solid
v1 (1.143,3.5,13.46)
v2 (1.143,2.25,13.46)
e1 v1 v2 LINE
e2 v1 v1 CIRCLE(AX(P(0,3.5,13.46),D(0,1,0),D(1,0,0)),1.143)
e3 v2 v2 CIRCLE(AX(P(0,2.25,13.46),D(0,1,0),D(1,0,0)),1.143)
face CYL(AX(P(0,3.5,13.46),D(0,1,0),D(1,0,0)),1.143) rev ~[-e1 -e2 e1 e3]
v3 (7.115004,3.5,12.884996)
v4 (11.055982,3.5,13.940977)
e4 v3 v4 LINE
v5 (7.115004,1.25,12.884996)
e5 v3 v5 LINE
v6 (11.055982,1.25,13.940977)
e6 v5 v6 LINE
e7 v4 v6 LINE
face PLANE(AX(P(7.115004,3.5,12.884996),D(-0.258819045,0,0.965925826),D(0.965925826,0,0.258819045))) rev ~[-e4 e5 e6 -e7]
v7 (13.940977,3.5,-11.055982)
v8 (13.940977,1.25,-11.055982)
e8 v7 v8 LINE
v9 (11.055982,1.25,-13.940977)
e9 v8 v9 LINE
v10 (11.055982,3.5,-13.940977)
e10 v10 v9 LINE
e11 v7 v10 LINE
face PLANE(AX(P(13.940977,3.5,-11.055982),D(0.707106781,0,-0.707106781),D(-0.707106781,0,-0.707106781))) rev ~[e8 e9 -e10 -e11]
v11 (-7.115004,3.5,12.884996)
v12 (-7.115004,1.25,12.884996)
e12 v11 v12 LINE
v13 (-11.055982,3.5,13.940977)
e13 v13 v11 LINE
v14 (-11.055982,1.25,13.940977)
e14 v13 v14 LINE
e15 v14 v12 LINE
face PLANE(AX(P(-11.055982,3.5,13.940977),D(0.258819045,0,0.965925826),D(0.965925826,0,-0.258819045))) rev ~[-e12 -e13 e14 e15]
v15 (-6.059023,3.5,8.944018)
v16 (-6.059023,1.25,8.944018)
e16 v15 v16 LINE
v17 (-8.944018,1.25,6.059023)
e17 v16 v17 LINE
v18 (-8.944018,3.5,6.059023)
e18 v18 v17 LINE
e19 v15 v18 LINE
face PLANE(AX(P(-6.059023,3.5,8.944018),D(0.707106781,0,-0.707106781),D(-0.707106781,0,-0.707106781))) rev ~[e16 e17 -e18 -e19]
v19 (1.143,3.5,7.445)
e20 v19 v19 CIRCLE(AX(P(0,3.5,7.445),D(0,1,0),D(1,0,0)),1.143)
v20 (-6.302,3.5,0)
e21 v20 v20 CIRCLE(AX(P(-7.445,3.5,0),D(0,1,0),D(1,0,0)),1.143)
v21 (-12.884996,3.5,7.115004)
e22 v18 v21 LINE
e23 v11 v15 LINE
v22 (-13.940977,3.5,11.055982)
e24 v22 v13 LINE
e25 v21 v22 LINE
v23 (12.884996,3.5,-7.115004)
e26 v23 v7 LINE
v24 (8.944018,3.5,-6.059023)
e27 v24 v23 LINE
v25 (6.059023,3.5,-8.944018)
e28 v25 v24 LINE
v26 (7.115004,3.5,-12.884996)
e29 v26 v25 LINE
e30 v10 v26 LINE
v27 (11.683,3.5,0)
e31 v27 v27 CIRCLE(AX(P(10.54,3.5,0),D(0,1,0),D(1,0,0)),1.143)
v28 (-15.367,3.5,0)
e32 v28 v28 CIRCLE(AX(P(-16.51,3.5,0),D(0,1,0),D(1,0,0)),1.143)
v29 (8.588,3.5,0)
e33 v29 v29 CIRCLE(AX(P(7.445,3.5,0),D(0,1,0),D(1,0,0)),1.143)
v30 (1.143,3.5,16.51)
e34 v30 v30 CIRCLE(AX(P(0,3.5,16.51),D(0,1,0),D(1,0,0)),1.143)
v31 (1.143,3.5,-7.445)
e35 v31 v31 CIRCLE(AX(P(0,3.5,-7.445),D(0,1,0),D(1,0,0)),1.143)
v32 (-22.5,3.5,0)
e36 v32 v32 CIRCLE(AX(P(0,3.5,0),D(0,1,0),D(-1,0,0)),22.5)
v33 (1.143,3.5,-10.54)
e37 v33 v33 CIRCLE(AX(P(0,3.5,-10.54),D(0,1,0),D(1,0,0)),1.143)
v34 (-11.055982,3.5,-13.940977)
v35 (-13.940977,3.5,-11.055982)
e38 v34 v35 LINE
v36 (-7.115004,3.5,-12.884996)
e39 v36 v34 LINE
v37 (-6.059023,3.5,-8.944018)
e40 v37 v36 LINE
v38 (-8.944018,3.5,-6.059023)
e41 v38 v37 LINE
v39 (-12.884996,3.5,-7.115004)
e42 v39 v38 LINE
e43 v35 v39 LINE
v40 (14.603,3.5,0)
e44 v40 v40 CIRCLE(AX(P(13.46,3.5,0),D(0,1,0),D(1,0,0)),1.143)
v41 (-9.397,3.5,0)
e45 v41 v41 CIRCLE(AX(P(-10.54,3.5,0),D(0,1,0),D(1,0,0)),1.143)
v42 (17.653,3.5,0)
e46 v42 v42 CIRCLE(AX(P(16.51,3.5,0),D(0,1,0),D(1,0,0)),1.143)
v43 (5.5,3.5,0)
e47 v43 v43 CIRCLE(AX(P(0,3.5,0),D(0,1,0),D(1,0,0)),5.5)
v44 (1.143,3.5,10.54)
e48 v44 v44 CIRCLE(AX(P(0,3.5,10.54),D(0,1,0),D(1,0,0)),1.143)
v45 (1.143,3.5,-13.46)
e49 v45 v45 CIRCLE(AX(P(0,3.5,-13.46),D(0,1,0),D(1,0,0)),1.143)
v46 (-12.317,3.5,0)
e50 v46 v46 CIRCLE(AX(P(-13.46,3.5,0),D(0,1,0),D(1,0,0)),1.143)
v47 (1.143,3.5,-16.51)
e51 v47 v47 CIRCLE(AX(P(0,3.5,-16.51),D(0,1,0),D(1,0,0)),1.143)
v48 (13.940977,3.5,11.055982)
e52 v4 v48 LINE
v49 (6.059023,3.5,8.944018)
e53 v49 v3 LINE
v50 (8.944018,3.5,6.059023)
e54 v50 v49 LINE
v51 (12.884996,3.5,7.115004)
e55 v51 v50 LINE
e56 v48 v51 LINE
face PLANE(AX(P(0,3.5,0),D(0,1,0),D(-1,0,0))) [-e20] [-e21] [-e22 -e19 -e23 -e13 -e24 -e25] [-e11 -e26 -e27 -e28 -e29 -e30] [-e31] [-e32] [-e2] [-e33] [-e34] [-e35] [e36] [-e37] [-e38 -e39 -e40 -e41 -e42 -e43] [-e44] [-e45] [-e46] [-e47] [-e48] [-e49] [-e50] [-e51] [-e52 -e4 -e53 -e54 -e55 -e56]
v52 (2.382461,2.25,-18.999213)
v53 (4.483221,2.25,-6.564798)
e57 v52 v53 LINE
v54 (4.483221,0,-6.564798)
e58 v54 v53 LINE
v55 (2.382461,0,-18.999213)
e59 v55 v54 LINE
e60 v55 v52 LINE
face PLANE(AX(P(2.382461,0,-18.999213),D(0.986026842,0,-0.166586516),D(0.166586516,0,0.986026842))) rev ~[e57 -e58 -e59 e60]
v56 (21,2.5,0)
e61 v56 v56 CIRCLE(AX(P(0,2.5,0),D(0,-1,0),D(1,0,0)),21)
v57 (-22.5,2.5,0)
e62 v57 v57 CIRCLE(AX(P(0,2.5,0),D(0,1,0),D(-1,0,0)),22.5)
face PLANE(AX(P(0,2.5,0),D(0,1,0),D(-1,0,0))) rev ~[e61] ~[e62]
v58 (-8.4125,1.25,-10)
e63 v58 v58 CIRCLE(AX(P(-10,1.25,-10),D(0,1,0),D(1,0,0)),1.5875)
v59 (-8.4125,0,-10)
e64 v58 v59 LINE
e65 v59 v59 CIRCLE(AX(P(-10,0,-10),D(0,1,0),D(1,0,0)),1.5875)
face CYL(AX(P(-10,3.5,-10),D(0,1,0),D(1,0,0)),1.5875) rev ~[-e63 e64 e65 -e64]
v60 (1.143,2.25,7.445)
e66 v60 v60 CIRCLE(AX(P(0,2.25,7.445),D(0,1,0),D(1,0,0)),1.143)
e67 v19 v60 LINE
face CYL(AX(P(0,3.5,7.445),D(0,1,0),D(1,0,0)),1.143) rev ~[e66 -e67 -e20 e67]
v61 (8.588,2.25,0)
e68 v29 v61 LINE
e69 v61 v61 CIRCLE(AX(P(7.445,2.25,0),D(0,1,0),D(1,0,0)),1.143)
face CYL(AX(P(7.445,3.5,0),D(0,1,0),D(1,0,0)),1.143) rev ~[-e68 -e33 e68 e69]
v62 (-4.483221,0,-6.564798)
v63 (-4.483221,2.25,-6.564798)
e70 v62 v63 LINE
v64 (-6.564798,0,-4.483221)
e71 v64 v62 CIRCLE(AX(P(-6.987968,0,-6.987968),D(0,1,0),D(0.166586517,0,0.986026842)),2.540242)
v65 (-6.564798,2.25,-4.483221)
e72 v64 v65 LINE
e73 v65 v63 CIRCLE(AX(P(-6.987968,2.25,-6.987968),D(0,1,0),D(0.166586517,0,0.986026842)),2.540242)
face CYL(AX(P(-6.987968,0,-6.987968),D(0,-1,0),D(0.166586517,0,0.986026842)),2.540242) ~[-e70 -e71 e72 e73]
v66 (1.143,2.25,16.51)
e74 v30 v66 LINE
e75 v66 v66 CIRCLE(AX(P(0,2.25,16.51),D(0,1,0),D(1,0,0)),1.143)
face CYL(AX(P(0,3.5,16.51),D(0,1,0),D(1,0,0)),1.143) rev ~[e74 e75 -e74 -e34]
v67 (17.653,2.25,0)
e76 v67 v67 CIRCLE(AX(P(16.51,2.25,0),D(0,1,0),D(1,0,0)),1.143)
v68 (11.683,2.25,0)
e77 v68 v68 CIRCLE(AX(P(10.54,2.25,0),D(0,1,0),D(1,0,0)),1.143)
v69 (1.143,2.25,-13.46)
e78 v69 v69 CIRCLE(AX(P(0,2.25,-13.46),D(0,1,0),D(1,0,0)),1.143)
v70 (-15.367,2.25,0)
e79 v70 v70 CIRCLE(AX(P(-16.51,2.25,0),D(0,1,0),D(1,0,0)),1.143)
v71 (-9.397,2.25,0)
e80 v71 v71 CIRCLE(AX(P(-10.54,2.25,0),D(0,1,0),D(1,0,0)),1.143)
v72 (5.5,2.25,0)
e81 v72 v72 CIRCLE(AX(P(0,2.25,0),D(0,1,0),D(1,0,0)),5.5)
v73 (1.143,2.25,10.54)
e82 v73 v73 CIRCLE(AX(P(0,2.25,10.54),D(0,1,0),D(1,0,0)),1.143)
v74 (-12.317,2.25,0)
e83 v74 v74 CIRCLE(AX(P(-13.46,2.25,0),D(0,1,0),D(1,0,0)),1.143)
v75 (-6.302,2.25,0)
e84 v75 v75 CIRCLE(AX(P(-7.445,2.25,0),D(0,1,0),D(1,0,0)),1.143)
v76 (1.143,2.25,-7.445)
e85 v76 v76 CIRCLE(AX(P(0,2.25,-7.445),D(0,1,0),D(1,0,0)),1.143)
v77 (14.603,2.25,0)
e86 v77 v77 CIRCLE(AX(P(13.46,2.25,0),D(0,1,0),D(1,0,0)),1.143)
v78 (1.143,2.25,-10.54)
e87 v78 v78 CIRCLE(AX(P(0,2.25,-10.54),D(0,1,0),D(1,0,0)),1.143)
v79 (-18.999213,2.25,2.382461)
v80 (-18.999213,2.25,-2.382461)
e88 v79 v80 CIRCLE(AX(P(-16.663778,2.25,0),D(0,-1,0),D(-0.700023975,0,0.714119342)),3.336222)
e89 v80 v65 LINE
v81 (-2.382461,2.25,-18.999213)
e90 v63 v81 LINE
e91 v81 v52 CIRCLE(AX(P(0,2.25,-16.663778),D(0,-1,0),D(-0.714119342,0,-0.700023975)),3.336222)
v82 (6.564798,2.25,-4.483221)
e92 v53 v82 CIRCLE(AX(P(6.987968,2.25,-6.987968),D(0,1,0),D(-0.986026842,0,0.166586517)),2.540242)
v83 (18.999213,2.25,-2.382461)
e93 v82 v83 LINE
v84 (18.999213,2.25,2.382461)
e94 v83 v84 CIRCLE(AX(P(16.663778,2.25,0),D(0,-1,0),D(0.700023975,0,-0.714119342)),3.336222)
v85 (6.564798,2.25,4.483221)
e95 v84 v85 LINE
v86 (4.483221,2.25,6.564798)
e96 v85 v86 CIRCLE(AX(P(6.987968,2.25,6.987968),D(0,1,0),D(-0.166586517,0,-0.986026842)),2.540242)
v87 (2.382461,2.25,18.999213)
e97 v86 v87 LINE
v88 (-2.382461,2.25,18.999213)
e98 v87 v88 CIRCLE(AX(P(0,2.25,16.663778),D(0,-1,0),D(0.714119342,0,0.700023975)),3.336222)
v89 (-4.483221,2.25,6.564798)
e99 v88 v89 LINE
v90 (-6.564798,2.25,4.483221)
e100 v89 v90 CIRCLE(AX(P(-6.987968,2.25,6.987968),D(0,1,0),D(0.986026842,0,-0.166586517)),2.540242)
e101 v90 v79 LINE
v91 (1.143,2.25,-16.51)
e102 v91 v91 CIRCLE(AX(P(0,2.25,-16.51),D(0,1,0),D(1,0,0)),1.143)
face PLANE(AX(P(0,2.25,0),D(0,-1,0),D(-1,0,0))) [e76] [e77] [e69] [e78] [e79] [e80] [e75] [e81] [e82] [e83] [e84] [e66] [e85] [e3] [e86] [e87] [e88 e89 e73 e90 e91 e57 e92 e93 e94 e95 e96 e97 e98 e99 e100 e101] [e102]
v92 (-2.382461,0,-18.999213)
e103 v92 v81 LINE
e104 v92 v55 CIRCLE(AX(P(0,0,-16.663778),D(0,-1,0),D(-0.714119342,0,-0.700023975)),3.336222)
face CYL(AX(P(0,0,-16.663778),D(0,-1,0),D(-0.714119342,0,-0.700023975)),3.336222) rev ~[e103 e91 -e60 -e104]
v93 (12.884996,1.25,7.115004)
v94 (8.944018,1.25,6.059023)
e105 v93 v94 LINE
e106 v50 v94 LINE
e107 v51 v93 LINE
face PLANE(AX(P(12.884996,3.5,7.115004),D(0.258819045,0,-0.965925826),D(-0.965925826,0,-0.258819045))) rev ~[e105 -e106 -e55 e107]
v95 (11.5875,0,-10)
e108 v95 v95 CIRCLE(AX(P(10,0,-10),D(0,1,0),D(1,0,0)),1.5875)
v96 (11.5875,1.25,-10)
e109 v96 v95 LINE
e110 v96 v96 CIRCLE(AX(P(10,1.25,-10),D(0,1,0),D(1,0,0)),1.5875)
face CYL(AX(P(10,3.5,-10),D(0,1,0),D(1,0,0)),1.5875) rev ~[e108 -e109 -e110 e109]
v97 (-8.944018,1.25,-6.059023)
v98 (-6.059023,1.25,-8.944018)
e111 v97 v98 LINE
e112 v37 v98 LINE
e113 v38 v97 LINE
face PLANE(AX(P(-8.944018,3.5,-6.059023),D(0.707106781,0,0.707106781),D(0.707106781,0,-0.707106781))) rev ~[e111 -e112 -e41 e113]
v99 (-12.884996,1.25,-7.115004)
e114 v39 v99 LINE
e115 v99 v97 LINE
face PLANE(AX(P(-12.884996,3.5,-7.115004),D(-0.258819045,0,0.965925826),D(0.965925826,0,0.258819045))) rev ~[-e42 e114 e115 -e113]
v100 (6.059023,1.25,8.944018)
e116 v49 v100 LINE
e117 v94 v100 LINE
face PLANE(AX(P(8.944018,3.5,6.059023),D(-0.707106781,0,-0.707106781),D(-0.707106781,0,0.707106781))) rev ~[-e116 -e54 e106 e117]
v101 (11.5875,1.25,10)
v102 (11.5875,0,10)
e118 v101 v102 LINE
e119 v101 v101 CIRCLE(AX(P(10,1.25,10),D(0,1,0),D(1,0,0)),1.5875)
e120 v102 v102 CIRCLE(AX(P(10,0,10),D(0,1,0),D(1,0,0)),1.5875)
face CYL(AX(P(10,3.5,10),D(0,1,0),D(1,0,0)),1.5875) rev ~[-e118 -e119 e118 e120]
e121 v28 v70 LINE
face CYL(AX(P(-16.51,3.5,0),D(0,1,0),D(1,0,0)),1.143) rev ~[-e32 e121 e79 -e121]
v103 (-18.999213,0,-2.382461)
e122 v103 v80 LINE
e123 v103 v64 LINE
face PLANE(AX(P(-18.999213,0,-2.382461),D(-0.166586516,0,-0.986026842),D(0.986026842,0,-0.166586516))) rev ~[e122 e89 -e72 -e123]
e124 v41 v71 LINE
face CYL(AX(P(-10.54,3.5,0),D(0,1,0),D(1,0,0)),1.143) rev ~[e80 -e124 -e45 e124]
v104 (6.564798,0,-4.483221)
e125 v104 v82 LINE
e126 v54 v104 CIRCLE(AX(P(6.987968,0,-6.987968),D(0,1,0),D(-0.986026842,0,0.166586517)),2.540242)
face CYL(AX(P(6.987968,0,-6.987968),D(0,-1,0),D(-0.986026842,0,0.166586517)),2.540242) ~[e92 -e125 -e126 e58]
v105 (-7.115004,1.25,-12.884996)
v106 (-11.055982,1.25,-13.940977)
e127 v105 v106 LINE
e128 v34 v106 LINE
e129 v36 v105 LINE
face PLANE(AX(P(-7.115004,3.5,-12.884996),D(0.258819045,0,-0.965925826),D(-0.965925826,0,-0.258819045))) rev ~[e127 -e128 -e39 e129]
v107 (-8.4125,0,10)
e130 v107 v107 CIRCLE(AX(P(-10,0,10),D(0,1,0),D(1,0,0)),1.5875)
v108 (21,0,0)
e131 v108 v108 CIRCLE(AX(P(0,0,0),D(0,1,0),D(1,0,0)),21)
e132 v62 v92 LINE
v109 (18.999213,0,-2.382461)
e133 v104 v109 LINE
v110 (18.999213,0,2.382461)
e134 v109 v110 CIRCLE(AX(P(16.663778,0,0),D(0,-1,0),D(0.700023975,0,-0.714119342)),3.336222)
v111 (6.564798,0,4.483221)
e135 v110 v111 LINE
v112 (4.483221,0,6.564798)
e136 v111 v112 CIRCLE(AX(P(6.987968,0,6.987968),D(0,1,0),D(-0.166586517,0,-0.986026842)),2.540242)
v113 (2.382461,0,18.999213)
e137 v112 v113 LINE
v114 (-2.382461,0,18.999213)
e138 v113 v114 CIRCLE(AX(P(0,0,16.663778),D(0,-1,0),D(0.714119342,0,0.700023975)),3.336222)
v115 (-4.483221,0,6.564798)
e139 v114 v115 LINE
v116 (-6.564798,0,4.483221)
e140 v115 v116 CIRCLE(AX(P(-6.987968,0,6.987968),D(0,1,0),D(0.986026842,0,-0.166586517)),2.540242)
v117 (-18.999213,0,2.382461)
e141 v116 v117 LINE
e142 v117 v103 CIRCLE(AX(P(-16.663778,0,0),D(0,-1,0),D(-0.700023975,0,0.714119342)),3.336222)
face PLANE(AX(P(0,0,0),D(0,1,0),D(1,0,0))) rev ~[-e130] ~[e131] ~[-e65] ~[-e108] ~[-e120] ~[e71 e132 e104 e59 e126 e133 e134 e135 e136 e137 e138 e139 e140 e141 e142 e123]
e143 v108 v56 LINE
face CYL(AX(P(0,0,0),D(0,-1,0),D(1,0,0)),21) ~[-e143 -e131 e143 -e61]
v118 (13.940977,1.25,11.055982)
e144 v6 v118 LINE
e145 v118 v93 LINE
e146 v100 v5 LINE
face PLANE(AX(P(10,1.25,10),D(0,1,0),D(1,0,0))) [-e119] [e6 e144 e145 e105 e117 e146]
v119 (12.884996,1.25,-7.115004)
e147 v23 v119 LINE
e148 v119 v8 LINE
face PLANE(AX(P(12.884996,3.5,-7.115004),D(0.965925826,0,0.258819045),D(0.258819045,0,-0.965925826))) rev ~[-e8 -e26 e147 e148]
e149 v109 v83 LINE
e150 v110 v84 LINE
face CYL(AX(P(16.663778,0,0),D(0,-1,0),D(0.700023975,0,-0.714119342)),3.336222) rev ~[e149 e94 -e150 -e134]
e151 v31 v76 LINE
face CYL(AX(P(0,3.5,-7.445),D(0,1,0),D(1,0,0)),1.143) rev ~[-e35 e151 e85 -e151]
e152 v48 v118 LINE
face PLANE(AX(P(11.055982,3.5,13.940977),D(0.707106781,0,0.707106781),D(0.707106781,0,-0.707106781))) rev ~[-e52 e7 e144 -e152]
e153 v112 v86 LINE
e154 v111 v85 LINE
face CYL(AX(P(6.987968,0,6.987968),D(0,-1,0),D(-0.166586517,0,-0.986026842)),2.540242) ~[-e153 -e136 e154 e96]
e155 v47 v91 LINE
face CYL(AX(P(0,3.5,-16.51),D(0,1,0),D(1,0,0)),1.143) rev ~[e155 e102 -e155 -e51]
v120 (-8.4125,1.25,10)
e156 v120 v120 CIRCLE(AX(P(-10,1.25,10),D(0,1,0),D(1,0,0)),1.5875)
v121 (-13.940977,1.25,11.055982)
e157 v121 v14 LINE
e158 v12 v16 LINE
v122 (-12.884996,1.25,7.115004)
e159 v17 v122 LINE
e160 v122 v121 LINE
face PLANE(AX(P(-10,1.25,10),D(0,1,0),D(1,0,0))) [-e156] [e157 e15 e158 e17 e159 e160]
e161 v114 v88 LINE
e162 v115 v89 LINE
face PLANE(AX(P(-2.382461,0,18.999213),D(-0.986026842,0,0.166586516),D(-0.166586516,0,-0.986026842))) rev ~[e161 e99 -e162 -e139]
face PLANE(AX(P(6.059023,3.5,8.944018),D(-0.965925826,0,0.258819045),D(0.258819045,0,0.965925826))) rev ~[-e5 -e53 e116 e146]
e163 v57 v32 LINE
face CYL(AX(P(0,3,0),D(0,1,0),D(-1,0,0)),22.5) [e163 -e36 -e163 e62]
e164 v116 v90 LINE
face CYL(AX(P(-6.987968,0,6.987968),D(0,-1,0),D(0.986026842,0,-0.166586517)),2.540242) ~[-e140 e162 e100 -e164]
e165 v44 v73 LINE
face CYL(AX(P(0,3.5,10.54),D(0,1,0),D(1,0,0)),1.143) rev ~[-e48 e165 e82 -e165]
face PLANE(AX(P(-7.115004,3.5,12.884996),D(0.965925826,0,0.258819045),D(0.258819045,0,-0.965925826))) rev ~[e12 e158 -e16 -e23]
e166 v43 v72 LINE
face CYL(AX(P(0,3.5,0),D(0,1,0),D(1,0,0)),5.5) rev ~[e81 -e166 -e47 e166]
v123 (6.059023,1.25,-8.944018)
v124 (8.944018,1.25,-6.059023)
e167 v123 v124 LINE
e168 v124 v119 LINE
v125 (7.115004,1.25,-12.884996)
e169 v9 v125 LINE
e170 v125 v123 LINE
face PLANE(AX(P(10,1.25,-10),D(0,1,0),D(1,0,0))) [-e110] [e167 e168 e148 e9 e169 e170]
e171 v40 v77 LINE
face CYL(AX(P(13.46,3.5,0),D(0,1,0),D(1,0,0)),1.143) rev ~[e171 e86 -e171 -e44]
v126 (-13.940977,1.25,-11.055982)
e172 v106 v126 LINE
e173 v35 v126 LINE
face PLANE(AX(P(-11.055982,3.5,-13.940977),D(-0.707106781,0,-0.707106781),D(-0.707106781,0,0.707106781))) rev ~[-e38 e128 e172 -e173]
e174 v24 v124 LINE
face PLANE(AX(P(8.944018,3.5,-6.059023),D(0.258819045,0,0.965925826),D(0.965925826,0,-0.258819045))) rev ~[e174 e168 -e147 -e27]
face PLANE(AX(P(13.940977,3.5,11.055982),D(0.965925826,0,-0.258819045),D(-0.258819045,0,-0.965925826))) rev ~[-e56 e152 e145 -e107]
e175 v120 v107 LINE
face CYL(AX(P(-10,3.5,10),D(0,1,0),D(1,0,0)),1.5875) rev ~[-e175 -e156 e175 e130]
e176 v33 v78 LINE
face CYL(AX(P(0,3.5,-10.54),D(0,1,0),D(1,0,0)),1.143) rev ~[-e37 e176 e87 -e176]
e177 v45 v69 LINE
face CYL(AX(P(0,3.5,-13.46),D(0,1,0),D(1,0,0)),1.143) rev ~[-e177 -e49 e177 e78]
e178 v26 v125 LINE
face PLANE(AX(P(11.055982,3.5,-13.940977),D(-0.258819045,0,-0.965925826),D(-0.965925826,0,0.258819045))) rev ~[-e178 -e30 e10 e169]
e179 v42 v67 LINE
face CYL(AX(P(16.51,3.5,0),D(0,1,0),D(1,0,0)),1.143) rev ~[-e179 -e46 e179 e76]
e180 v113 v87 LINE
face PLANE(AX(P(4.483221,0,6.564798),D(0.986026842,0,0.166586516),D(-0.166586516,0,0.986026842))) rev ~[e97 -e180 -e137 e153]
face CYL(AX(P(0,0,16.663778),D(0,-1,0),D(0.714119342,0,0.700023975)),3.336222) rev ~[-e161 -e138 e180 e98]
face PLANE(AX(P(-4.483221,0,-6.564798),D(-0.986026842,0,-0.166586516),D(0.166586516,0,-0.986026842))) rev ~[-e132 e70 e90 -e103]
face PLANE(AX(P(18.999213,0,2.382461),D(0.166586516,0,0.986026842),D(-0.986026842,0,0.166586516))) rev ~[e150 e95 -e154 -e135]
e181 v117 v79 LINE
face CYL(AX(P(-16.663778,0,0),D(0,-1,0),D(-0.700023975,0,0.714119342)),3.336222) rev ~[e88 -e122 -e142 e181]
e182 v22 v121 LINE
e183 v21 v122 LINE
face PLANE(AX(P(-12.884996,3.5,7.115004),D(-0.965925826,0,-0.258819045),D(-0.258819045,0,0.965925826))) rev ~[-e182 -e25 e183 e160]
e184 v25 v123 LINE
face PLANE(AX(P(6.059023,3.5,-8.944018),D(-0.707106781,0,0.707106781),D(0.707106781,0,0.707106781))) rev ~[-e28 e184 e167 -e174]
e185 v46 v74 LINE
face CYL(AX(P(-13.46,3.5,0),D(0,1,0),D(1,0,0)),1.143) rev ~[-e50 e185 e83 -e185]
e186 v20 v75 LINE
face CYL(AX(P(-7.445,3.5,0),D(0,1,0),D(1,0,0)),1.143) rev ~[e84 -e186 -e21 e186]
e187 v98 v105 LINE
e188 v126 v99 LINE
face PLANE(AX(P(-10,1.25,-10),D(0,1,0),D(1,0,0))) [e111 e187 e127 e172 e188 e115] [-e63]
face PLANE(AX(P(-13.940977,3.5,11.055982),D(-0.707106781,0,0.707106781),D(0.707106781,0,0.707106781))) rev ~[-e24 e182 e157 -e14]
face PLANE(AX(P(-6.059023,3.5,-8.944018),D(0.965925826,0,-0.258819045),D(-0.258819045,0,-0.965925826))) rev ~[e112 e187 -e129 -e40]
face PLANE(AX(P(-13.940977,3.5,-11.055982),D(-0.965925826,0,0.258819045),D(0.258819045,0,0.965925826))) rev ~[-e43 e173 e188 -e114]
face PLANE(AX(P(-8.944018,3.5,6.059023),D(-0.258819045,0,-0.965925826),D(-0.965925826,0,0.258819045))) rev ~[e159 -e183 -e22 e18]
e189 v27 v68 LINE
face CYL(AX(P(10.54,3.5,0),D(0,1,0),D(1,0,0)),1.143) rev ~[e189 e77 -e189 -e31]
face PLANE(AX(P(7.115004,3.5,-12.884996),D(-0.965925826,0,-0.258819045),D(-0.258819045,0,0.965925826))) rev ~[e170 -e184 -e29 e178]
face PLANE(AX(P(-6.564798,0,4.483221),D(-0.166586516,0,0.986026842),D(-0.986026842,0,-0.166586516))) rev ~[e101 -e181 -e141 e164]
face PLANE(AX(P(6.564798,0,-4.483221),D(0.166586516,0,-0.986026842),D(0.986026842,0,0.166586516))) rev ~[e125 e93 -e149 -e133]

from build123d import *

# Parameters (mm, degrees)
SKETCH2_R           = 21
BOSS_EXTRUDE1_DEPTH = 3.5
CUT_EXTRUDE1_DEPTH  = 2.25
SKETCH4_R           = 5.5
SKETCH4_R_2         = 1.143
SKETCH4_R_3         = 1.5875
CUT_EXTRUDE2_DEPTH  = 4.5
CUT_EXTRUDE4_DEPTH  = 2.25
SKETCH6_W           = 2.148549125
SKETCH6_H           = 1


with BuildPart() as part:
    # Sketch2 → Boss-Extrude1 (new body)
    with BuildSketch(Plane(origin=(0, 0, 0), x_dir=(1, 0, 0), z_dir=(0, 1, 0))):
        Circle(SKETCH2_R)
    extrude(amount=BOSS_EXTRUDE1_DEPTH)

    # Sketch1 → Cut-Extrude1 (cut)
    with BuildSketch(Plane(origin=(0, 0, 0), x_dir=(1, 0, 0), z_dir=(0, 1, 0))):
        with BuildLine():
            Line((-2.382460832, -18.999213313), (-4.483221098, -6.564797513))
            ThreePointArc((-4.483221098, -6.564797513), (-5.191745443, -5.191745443), (-6.564797513, -4.483221098))
            Line((-6.564797513, -4.483221098), (-18.999213313, -2.382460832))
            ThreePointArc((-18.999213313, -2.382460832), (-20, 0), (-18.999213313, 2.382460832))
            Line((-18.999213313, 2.382460832), (-6.564797513, 4.483221098))
            ThreePointArc((-6.564797513, 4.483221098), (-5.191745443, 5.191745443), (-4.483221098, 6.564797513))
            Line((-4.483221098, 6.564797513), (-2.382460832, 18.999213313))
            ThreePointArc((-2.382460832, 18.999213313), (0, 20), (2.382460832, 18.999213313))
            Line((2.382460832, 18.999213313), (4.483221098, 6.564797513))
            ThreePointArc((4.483221098, 6.564797513), (5.191745443, 5.191745443), (6.564797513, 4.483221098))
            Line((6.564797513, 4.483221098), (18.999213313, 2.382460832))
            ThreePointArc((18.999213313, 2.382460832), (20, 0), (18.999213313, -2.382460832))
            Line((18.999213313, -2.382460832), (6.564797513, -4.483221098))
            ThreePointArc((6.564797513, -4.483221098), (5.191745443, -5.191745443), (4.483221098, -6.564797513))
            Line((4.483221098, -6.564797513), (2.382460832, -18.999213313))
            ThreePointArc((2.382460832, -18.999213313), (0, -20), (-2.382460832, -18.999213313))
        make_face()
    extrude(amount=CUT_EXTRUDE1_DEPTH, mode=Mode.SUBTRACT)

    # Sketch4 → Cut-Extrude2 (cut, through all)
    with BuildSketch(Plane(origin=(0, 3.5, 0), x_dir=(1, 0, 0), z_dir=(0, 1, 0))):
        Circle(SKETCH4_R)
        with Locations((7.445, 0)):
            Circle(SKETCH4_R_2)
        with Locations((10.54, 0)):
            Circle(SKETCH4_R_2)
        with Locations((13.46, 0)):
            Circle(SKETCH4_R_2)
        with Locations((16.51, 0)):
            Circle(SKETCH4_R_2)
        with Locations((10, 10)):
            Circle(SKETCH4_R_3)
        with Locations((0, -7.445)):
            Circle(SKETCH4_R_2)
        with Locations((0, -10.54)):
            Circle(SKETCH4_R_2)
        with Locations((0, -13.46)):
            Circle(SKETCH4_R_2)
        with Locations((0, -16.51)):
            Circle(SKETCH4_R_2)
        with Locations((10, -10)):
            Circle(SKETCH4_R_3)
        with Locations((-7.445, 0)):
            Circle(SKETCH4_R_2)
        with Locations((-10.54, 0)):
            Circle(SKETCH4_R_2)
        with Locations((-13.46, 0)):
            Circle(SKETCH4_R_2)
        with Locations((-16.51, 0)):
            Circle(SKETCH4_R_2)
        with Locations((-10, -10)):
            Circle(SKETCH4_R_3)
        with Locations((0, 7.445)):
            Circle(SKETCH4_R_2)
        with Locations((0, 10.54)):
            Circle(SKETCH4_R_2)
        with Locations((0, 13.46)):
            Circle(SKETCH4_R_2)
        with Locations((0, 16.51)):
            Circle(SKETCH4_R_2)
        with Locations((-10, 10)):
            Circle(SKETCH4_R_3)
    extrude(amount=-CUT_EXTRUDE2_DEPTH, mode=Mode.SUBTRACT)

    # Sketch5 → Cut-Extrude4 (cut)
    with BuildSketch(Plane(origin=(0, 3.5, 0), x_dir=(1, 0, 0), z_dir=(0, 1, 0))):
        Polygon((11.055981704, -13.940977371), (13.940977371, -11.055981704), (12.884995667, -7.115004333), (8.944018296, -6.059022629), (6.059022629, -8.944018296), (7.115004333, -12.884995667), align=None)
        Polygon((-8.944018296, 6.059022629), (-6.059022629, 8.944018296), (-7.115004333, 12.884995667), (-11.055981704, 13.940977371), (-13.940977371, 11.055981704), (-12.884995667, 7.115004333), align=None)
        Polygon((12.884995667, 7.115004333), (13.940977371, 11.055981704), (11.055981704, 13.940977371), (7.115004333, 12.884995667), (6.059022629, 8.944018296), (8.944018296, 6.059022629), align=None)
        Polygon((-7.115004333, -12.884995667), (-6.059022629, -8.944018296), (-8.944018296, -6.059022629), (-12.884995667, -7.115004333), (-13.940977371, -11.055981704), (-11.055981704, -13.940977371), align=None)
    extrude(amount=-CUT_EXTRUDE4_DEPTH, mode=Mode.SUBTRACT)

    # Sketch6 → Revolve1 (revolve)
    with BuildSketch(Plane.XY):
        with Locations((-21.425725437, 3)):
            Rectangle(SKETCH6_W, SKETCH6_H)
    revolve(axis=Axis((0, 0, 0), (0, 1, 0)))


solid = part.part
